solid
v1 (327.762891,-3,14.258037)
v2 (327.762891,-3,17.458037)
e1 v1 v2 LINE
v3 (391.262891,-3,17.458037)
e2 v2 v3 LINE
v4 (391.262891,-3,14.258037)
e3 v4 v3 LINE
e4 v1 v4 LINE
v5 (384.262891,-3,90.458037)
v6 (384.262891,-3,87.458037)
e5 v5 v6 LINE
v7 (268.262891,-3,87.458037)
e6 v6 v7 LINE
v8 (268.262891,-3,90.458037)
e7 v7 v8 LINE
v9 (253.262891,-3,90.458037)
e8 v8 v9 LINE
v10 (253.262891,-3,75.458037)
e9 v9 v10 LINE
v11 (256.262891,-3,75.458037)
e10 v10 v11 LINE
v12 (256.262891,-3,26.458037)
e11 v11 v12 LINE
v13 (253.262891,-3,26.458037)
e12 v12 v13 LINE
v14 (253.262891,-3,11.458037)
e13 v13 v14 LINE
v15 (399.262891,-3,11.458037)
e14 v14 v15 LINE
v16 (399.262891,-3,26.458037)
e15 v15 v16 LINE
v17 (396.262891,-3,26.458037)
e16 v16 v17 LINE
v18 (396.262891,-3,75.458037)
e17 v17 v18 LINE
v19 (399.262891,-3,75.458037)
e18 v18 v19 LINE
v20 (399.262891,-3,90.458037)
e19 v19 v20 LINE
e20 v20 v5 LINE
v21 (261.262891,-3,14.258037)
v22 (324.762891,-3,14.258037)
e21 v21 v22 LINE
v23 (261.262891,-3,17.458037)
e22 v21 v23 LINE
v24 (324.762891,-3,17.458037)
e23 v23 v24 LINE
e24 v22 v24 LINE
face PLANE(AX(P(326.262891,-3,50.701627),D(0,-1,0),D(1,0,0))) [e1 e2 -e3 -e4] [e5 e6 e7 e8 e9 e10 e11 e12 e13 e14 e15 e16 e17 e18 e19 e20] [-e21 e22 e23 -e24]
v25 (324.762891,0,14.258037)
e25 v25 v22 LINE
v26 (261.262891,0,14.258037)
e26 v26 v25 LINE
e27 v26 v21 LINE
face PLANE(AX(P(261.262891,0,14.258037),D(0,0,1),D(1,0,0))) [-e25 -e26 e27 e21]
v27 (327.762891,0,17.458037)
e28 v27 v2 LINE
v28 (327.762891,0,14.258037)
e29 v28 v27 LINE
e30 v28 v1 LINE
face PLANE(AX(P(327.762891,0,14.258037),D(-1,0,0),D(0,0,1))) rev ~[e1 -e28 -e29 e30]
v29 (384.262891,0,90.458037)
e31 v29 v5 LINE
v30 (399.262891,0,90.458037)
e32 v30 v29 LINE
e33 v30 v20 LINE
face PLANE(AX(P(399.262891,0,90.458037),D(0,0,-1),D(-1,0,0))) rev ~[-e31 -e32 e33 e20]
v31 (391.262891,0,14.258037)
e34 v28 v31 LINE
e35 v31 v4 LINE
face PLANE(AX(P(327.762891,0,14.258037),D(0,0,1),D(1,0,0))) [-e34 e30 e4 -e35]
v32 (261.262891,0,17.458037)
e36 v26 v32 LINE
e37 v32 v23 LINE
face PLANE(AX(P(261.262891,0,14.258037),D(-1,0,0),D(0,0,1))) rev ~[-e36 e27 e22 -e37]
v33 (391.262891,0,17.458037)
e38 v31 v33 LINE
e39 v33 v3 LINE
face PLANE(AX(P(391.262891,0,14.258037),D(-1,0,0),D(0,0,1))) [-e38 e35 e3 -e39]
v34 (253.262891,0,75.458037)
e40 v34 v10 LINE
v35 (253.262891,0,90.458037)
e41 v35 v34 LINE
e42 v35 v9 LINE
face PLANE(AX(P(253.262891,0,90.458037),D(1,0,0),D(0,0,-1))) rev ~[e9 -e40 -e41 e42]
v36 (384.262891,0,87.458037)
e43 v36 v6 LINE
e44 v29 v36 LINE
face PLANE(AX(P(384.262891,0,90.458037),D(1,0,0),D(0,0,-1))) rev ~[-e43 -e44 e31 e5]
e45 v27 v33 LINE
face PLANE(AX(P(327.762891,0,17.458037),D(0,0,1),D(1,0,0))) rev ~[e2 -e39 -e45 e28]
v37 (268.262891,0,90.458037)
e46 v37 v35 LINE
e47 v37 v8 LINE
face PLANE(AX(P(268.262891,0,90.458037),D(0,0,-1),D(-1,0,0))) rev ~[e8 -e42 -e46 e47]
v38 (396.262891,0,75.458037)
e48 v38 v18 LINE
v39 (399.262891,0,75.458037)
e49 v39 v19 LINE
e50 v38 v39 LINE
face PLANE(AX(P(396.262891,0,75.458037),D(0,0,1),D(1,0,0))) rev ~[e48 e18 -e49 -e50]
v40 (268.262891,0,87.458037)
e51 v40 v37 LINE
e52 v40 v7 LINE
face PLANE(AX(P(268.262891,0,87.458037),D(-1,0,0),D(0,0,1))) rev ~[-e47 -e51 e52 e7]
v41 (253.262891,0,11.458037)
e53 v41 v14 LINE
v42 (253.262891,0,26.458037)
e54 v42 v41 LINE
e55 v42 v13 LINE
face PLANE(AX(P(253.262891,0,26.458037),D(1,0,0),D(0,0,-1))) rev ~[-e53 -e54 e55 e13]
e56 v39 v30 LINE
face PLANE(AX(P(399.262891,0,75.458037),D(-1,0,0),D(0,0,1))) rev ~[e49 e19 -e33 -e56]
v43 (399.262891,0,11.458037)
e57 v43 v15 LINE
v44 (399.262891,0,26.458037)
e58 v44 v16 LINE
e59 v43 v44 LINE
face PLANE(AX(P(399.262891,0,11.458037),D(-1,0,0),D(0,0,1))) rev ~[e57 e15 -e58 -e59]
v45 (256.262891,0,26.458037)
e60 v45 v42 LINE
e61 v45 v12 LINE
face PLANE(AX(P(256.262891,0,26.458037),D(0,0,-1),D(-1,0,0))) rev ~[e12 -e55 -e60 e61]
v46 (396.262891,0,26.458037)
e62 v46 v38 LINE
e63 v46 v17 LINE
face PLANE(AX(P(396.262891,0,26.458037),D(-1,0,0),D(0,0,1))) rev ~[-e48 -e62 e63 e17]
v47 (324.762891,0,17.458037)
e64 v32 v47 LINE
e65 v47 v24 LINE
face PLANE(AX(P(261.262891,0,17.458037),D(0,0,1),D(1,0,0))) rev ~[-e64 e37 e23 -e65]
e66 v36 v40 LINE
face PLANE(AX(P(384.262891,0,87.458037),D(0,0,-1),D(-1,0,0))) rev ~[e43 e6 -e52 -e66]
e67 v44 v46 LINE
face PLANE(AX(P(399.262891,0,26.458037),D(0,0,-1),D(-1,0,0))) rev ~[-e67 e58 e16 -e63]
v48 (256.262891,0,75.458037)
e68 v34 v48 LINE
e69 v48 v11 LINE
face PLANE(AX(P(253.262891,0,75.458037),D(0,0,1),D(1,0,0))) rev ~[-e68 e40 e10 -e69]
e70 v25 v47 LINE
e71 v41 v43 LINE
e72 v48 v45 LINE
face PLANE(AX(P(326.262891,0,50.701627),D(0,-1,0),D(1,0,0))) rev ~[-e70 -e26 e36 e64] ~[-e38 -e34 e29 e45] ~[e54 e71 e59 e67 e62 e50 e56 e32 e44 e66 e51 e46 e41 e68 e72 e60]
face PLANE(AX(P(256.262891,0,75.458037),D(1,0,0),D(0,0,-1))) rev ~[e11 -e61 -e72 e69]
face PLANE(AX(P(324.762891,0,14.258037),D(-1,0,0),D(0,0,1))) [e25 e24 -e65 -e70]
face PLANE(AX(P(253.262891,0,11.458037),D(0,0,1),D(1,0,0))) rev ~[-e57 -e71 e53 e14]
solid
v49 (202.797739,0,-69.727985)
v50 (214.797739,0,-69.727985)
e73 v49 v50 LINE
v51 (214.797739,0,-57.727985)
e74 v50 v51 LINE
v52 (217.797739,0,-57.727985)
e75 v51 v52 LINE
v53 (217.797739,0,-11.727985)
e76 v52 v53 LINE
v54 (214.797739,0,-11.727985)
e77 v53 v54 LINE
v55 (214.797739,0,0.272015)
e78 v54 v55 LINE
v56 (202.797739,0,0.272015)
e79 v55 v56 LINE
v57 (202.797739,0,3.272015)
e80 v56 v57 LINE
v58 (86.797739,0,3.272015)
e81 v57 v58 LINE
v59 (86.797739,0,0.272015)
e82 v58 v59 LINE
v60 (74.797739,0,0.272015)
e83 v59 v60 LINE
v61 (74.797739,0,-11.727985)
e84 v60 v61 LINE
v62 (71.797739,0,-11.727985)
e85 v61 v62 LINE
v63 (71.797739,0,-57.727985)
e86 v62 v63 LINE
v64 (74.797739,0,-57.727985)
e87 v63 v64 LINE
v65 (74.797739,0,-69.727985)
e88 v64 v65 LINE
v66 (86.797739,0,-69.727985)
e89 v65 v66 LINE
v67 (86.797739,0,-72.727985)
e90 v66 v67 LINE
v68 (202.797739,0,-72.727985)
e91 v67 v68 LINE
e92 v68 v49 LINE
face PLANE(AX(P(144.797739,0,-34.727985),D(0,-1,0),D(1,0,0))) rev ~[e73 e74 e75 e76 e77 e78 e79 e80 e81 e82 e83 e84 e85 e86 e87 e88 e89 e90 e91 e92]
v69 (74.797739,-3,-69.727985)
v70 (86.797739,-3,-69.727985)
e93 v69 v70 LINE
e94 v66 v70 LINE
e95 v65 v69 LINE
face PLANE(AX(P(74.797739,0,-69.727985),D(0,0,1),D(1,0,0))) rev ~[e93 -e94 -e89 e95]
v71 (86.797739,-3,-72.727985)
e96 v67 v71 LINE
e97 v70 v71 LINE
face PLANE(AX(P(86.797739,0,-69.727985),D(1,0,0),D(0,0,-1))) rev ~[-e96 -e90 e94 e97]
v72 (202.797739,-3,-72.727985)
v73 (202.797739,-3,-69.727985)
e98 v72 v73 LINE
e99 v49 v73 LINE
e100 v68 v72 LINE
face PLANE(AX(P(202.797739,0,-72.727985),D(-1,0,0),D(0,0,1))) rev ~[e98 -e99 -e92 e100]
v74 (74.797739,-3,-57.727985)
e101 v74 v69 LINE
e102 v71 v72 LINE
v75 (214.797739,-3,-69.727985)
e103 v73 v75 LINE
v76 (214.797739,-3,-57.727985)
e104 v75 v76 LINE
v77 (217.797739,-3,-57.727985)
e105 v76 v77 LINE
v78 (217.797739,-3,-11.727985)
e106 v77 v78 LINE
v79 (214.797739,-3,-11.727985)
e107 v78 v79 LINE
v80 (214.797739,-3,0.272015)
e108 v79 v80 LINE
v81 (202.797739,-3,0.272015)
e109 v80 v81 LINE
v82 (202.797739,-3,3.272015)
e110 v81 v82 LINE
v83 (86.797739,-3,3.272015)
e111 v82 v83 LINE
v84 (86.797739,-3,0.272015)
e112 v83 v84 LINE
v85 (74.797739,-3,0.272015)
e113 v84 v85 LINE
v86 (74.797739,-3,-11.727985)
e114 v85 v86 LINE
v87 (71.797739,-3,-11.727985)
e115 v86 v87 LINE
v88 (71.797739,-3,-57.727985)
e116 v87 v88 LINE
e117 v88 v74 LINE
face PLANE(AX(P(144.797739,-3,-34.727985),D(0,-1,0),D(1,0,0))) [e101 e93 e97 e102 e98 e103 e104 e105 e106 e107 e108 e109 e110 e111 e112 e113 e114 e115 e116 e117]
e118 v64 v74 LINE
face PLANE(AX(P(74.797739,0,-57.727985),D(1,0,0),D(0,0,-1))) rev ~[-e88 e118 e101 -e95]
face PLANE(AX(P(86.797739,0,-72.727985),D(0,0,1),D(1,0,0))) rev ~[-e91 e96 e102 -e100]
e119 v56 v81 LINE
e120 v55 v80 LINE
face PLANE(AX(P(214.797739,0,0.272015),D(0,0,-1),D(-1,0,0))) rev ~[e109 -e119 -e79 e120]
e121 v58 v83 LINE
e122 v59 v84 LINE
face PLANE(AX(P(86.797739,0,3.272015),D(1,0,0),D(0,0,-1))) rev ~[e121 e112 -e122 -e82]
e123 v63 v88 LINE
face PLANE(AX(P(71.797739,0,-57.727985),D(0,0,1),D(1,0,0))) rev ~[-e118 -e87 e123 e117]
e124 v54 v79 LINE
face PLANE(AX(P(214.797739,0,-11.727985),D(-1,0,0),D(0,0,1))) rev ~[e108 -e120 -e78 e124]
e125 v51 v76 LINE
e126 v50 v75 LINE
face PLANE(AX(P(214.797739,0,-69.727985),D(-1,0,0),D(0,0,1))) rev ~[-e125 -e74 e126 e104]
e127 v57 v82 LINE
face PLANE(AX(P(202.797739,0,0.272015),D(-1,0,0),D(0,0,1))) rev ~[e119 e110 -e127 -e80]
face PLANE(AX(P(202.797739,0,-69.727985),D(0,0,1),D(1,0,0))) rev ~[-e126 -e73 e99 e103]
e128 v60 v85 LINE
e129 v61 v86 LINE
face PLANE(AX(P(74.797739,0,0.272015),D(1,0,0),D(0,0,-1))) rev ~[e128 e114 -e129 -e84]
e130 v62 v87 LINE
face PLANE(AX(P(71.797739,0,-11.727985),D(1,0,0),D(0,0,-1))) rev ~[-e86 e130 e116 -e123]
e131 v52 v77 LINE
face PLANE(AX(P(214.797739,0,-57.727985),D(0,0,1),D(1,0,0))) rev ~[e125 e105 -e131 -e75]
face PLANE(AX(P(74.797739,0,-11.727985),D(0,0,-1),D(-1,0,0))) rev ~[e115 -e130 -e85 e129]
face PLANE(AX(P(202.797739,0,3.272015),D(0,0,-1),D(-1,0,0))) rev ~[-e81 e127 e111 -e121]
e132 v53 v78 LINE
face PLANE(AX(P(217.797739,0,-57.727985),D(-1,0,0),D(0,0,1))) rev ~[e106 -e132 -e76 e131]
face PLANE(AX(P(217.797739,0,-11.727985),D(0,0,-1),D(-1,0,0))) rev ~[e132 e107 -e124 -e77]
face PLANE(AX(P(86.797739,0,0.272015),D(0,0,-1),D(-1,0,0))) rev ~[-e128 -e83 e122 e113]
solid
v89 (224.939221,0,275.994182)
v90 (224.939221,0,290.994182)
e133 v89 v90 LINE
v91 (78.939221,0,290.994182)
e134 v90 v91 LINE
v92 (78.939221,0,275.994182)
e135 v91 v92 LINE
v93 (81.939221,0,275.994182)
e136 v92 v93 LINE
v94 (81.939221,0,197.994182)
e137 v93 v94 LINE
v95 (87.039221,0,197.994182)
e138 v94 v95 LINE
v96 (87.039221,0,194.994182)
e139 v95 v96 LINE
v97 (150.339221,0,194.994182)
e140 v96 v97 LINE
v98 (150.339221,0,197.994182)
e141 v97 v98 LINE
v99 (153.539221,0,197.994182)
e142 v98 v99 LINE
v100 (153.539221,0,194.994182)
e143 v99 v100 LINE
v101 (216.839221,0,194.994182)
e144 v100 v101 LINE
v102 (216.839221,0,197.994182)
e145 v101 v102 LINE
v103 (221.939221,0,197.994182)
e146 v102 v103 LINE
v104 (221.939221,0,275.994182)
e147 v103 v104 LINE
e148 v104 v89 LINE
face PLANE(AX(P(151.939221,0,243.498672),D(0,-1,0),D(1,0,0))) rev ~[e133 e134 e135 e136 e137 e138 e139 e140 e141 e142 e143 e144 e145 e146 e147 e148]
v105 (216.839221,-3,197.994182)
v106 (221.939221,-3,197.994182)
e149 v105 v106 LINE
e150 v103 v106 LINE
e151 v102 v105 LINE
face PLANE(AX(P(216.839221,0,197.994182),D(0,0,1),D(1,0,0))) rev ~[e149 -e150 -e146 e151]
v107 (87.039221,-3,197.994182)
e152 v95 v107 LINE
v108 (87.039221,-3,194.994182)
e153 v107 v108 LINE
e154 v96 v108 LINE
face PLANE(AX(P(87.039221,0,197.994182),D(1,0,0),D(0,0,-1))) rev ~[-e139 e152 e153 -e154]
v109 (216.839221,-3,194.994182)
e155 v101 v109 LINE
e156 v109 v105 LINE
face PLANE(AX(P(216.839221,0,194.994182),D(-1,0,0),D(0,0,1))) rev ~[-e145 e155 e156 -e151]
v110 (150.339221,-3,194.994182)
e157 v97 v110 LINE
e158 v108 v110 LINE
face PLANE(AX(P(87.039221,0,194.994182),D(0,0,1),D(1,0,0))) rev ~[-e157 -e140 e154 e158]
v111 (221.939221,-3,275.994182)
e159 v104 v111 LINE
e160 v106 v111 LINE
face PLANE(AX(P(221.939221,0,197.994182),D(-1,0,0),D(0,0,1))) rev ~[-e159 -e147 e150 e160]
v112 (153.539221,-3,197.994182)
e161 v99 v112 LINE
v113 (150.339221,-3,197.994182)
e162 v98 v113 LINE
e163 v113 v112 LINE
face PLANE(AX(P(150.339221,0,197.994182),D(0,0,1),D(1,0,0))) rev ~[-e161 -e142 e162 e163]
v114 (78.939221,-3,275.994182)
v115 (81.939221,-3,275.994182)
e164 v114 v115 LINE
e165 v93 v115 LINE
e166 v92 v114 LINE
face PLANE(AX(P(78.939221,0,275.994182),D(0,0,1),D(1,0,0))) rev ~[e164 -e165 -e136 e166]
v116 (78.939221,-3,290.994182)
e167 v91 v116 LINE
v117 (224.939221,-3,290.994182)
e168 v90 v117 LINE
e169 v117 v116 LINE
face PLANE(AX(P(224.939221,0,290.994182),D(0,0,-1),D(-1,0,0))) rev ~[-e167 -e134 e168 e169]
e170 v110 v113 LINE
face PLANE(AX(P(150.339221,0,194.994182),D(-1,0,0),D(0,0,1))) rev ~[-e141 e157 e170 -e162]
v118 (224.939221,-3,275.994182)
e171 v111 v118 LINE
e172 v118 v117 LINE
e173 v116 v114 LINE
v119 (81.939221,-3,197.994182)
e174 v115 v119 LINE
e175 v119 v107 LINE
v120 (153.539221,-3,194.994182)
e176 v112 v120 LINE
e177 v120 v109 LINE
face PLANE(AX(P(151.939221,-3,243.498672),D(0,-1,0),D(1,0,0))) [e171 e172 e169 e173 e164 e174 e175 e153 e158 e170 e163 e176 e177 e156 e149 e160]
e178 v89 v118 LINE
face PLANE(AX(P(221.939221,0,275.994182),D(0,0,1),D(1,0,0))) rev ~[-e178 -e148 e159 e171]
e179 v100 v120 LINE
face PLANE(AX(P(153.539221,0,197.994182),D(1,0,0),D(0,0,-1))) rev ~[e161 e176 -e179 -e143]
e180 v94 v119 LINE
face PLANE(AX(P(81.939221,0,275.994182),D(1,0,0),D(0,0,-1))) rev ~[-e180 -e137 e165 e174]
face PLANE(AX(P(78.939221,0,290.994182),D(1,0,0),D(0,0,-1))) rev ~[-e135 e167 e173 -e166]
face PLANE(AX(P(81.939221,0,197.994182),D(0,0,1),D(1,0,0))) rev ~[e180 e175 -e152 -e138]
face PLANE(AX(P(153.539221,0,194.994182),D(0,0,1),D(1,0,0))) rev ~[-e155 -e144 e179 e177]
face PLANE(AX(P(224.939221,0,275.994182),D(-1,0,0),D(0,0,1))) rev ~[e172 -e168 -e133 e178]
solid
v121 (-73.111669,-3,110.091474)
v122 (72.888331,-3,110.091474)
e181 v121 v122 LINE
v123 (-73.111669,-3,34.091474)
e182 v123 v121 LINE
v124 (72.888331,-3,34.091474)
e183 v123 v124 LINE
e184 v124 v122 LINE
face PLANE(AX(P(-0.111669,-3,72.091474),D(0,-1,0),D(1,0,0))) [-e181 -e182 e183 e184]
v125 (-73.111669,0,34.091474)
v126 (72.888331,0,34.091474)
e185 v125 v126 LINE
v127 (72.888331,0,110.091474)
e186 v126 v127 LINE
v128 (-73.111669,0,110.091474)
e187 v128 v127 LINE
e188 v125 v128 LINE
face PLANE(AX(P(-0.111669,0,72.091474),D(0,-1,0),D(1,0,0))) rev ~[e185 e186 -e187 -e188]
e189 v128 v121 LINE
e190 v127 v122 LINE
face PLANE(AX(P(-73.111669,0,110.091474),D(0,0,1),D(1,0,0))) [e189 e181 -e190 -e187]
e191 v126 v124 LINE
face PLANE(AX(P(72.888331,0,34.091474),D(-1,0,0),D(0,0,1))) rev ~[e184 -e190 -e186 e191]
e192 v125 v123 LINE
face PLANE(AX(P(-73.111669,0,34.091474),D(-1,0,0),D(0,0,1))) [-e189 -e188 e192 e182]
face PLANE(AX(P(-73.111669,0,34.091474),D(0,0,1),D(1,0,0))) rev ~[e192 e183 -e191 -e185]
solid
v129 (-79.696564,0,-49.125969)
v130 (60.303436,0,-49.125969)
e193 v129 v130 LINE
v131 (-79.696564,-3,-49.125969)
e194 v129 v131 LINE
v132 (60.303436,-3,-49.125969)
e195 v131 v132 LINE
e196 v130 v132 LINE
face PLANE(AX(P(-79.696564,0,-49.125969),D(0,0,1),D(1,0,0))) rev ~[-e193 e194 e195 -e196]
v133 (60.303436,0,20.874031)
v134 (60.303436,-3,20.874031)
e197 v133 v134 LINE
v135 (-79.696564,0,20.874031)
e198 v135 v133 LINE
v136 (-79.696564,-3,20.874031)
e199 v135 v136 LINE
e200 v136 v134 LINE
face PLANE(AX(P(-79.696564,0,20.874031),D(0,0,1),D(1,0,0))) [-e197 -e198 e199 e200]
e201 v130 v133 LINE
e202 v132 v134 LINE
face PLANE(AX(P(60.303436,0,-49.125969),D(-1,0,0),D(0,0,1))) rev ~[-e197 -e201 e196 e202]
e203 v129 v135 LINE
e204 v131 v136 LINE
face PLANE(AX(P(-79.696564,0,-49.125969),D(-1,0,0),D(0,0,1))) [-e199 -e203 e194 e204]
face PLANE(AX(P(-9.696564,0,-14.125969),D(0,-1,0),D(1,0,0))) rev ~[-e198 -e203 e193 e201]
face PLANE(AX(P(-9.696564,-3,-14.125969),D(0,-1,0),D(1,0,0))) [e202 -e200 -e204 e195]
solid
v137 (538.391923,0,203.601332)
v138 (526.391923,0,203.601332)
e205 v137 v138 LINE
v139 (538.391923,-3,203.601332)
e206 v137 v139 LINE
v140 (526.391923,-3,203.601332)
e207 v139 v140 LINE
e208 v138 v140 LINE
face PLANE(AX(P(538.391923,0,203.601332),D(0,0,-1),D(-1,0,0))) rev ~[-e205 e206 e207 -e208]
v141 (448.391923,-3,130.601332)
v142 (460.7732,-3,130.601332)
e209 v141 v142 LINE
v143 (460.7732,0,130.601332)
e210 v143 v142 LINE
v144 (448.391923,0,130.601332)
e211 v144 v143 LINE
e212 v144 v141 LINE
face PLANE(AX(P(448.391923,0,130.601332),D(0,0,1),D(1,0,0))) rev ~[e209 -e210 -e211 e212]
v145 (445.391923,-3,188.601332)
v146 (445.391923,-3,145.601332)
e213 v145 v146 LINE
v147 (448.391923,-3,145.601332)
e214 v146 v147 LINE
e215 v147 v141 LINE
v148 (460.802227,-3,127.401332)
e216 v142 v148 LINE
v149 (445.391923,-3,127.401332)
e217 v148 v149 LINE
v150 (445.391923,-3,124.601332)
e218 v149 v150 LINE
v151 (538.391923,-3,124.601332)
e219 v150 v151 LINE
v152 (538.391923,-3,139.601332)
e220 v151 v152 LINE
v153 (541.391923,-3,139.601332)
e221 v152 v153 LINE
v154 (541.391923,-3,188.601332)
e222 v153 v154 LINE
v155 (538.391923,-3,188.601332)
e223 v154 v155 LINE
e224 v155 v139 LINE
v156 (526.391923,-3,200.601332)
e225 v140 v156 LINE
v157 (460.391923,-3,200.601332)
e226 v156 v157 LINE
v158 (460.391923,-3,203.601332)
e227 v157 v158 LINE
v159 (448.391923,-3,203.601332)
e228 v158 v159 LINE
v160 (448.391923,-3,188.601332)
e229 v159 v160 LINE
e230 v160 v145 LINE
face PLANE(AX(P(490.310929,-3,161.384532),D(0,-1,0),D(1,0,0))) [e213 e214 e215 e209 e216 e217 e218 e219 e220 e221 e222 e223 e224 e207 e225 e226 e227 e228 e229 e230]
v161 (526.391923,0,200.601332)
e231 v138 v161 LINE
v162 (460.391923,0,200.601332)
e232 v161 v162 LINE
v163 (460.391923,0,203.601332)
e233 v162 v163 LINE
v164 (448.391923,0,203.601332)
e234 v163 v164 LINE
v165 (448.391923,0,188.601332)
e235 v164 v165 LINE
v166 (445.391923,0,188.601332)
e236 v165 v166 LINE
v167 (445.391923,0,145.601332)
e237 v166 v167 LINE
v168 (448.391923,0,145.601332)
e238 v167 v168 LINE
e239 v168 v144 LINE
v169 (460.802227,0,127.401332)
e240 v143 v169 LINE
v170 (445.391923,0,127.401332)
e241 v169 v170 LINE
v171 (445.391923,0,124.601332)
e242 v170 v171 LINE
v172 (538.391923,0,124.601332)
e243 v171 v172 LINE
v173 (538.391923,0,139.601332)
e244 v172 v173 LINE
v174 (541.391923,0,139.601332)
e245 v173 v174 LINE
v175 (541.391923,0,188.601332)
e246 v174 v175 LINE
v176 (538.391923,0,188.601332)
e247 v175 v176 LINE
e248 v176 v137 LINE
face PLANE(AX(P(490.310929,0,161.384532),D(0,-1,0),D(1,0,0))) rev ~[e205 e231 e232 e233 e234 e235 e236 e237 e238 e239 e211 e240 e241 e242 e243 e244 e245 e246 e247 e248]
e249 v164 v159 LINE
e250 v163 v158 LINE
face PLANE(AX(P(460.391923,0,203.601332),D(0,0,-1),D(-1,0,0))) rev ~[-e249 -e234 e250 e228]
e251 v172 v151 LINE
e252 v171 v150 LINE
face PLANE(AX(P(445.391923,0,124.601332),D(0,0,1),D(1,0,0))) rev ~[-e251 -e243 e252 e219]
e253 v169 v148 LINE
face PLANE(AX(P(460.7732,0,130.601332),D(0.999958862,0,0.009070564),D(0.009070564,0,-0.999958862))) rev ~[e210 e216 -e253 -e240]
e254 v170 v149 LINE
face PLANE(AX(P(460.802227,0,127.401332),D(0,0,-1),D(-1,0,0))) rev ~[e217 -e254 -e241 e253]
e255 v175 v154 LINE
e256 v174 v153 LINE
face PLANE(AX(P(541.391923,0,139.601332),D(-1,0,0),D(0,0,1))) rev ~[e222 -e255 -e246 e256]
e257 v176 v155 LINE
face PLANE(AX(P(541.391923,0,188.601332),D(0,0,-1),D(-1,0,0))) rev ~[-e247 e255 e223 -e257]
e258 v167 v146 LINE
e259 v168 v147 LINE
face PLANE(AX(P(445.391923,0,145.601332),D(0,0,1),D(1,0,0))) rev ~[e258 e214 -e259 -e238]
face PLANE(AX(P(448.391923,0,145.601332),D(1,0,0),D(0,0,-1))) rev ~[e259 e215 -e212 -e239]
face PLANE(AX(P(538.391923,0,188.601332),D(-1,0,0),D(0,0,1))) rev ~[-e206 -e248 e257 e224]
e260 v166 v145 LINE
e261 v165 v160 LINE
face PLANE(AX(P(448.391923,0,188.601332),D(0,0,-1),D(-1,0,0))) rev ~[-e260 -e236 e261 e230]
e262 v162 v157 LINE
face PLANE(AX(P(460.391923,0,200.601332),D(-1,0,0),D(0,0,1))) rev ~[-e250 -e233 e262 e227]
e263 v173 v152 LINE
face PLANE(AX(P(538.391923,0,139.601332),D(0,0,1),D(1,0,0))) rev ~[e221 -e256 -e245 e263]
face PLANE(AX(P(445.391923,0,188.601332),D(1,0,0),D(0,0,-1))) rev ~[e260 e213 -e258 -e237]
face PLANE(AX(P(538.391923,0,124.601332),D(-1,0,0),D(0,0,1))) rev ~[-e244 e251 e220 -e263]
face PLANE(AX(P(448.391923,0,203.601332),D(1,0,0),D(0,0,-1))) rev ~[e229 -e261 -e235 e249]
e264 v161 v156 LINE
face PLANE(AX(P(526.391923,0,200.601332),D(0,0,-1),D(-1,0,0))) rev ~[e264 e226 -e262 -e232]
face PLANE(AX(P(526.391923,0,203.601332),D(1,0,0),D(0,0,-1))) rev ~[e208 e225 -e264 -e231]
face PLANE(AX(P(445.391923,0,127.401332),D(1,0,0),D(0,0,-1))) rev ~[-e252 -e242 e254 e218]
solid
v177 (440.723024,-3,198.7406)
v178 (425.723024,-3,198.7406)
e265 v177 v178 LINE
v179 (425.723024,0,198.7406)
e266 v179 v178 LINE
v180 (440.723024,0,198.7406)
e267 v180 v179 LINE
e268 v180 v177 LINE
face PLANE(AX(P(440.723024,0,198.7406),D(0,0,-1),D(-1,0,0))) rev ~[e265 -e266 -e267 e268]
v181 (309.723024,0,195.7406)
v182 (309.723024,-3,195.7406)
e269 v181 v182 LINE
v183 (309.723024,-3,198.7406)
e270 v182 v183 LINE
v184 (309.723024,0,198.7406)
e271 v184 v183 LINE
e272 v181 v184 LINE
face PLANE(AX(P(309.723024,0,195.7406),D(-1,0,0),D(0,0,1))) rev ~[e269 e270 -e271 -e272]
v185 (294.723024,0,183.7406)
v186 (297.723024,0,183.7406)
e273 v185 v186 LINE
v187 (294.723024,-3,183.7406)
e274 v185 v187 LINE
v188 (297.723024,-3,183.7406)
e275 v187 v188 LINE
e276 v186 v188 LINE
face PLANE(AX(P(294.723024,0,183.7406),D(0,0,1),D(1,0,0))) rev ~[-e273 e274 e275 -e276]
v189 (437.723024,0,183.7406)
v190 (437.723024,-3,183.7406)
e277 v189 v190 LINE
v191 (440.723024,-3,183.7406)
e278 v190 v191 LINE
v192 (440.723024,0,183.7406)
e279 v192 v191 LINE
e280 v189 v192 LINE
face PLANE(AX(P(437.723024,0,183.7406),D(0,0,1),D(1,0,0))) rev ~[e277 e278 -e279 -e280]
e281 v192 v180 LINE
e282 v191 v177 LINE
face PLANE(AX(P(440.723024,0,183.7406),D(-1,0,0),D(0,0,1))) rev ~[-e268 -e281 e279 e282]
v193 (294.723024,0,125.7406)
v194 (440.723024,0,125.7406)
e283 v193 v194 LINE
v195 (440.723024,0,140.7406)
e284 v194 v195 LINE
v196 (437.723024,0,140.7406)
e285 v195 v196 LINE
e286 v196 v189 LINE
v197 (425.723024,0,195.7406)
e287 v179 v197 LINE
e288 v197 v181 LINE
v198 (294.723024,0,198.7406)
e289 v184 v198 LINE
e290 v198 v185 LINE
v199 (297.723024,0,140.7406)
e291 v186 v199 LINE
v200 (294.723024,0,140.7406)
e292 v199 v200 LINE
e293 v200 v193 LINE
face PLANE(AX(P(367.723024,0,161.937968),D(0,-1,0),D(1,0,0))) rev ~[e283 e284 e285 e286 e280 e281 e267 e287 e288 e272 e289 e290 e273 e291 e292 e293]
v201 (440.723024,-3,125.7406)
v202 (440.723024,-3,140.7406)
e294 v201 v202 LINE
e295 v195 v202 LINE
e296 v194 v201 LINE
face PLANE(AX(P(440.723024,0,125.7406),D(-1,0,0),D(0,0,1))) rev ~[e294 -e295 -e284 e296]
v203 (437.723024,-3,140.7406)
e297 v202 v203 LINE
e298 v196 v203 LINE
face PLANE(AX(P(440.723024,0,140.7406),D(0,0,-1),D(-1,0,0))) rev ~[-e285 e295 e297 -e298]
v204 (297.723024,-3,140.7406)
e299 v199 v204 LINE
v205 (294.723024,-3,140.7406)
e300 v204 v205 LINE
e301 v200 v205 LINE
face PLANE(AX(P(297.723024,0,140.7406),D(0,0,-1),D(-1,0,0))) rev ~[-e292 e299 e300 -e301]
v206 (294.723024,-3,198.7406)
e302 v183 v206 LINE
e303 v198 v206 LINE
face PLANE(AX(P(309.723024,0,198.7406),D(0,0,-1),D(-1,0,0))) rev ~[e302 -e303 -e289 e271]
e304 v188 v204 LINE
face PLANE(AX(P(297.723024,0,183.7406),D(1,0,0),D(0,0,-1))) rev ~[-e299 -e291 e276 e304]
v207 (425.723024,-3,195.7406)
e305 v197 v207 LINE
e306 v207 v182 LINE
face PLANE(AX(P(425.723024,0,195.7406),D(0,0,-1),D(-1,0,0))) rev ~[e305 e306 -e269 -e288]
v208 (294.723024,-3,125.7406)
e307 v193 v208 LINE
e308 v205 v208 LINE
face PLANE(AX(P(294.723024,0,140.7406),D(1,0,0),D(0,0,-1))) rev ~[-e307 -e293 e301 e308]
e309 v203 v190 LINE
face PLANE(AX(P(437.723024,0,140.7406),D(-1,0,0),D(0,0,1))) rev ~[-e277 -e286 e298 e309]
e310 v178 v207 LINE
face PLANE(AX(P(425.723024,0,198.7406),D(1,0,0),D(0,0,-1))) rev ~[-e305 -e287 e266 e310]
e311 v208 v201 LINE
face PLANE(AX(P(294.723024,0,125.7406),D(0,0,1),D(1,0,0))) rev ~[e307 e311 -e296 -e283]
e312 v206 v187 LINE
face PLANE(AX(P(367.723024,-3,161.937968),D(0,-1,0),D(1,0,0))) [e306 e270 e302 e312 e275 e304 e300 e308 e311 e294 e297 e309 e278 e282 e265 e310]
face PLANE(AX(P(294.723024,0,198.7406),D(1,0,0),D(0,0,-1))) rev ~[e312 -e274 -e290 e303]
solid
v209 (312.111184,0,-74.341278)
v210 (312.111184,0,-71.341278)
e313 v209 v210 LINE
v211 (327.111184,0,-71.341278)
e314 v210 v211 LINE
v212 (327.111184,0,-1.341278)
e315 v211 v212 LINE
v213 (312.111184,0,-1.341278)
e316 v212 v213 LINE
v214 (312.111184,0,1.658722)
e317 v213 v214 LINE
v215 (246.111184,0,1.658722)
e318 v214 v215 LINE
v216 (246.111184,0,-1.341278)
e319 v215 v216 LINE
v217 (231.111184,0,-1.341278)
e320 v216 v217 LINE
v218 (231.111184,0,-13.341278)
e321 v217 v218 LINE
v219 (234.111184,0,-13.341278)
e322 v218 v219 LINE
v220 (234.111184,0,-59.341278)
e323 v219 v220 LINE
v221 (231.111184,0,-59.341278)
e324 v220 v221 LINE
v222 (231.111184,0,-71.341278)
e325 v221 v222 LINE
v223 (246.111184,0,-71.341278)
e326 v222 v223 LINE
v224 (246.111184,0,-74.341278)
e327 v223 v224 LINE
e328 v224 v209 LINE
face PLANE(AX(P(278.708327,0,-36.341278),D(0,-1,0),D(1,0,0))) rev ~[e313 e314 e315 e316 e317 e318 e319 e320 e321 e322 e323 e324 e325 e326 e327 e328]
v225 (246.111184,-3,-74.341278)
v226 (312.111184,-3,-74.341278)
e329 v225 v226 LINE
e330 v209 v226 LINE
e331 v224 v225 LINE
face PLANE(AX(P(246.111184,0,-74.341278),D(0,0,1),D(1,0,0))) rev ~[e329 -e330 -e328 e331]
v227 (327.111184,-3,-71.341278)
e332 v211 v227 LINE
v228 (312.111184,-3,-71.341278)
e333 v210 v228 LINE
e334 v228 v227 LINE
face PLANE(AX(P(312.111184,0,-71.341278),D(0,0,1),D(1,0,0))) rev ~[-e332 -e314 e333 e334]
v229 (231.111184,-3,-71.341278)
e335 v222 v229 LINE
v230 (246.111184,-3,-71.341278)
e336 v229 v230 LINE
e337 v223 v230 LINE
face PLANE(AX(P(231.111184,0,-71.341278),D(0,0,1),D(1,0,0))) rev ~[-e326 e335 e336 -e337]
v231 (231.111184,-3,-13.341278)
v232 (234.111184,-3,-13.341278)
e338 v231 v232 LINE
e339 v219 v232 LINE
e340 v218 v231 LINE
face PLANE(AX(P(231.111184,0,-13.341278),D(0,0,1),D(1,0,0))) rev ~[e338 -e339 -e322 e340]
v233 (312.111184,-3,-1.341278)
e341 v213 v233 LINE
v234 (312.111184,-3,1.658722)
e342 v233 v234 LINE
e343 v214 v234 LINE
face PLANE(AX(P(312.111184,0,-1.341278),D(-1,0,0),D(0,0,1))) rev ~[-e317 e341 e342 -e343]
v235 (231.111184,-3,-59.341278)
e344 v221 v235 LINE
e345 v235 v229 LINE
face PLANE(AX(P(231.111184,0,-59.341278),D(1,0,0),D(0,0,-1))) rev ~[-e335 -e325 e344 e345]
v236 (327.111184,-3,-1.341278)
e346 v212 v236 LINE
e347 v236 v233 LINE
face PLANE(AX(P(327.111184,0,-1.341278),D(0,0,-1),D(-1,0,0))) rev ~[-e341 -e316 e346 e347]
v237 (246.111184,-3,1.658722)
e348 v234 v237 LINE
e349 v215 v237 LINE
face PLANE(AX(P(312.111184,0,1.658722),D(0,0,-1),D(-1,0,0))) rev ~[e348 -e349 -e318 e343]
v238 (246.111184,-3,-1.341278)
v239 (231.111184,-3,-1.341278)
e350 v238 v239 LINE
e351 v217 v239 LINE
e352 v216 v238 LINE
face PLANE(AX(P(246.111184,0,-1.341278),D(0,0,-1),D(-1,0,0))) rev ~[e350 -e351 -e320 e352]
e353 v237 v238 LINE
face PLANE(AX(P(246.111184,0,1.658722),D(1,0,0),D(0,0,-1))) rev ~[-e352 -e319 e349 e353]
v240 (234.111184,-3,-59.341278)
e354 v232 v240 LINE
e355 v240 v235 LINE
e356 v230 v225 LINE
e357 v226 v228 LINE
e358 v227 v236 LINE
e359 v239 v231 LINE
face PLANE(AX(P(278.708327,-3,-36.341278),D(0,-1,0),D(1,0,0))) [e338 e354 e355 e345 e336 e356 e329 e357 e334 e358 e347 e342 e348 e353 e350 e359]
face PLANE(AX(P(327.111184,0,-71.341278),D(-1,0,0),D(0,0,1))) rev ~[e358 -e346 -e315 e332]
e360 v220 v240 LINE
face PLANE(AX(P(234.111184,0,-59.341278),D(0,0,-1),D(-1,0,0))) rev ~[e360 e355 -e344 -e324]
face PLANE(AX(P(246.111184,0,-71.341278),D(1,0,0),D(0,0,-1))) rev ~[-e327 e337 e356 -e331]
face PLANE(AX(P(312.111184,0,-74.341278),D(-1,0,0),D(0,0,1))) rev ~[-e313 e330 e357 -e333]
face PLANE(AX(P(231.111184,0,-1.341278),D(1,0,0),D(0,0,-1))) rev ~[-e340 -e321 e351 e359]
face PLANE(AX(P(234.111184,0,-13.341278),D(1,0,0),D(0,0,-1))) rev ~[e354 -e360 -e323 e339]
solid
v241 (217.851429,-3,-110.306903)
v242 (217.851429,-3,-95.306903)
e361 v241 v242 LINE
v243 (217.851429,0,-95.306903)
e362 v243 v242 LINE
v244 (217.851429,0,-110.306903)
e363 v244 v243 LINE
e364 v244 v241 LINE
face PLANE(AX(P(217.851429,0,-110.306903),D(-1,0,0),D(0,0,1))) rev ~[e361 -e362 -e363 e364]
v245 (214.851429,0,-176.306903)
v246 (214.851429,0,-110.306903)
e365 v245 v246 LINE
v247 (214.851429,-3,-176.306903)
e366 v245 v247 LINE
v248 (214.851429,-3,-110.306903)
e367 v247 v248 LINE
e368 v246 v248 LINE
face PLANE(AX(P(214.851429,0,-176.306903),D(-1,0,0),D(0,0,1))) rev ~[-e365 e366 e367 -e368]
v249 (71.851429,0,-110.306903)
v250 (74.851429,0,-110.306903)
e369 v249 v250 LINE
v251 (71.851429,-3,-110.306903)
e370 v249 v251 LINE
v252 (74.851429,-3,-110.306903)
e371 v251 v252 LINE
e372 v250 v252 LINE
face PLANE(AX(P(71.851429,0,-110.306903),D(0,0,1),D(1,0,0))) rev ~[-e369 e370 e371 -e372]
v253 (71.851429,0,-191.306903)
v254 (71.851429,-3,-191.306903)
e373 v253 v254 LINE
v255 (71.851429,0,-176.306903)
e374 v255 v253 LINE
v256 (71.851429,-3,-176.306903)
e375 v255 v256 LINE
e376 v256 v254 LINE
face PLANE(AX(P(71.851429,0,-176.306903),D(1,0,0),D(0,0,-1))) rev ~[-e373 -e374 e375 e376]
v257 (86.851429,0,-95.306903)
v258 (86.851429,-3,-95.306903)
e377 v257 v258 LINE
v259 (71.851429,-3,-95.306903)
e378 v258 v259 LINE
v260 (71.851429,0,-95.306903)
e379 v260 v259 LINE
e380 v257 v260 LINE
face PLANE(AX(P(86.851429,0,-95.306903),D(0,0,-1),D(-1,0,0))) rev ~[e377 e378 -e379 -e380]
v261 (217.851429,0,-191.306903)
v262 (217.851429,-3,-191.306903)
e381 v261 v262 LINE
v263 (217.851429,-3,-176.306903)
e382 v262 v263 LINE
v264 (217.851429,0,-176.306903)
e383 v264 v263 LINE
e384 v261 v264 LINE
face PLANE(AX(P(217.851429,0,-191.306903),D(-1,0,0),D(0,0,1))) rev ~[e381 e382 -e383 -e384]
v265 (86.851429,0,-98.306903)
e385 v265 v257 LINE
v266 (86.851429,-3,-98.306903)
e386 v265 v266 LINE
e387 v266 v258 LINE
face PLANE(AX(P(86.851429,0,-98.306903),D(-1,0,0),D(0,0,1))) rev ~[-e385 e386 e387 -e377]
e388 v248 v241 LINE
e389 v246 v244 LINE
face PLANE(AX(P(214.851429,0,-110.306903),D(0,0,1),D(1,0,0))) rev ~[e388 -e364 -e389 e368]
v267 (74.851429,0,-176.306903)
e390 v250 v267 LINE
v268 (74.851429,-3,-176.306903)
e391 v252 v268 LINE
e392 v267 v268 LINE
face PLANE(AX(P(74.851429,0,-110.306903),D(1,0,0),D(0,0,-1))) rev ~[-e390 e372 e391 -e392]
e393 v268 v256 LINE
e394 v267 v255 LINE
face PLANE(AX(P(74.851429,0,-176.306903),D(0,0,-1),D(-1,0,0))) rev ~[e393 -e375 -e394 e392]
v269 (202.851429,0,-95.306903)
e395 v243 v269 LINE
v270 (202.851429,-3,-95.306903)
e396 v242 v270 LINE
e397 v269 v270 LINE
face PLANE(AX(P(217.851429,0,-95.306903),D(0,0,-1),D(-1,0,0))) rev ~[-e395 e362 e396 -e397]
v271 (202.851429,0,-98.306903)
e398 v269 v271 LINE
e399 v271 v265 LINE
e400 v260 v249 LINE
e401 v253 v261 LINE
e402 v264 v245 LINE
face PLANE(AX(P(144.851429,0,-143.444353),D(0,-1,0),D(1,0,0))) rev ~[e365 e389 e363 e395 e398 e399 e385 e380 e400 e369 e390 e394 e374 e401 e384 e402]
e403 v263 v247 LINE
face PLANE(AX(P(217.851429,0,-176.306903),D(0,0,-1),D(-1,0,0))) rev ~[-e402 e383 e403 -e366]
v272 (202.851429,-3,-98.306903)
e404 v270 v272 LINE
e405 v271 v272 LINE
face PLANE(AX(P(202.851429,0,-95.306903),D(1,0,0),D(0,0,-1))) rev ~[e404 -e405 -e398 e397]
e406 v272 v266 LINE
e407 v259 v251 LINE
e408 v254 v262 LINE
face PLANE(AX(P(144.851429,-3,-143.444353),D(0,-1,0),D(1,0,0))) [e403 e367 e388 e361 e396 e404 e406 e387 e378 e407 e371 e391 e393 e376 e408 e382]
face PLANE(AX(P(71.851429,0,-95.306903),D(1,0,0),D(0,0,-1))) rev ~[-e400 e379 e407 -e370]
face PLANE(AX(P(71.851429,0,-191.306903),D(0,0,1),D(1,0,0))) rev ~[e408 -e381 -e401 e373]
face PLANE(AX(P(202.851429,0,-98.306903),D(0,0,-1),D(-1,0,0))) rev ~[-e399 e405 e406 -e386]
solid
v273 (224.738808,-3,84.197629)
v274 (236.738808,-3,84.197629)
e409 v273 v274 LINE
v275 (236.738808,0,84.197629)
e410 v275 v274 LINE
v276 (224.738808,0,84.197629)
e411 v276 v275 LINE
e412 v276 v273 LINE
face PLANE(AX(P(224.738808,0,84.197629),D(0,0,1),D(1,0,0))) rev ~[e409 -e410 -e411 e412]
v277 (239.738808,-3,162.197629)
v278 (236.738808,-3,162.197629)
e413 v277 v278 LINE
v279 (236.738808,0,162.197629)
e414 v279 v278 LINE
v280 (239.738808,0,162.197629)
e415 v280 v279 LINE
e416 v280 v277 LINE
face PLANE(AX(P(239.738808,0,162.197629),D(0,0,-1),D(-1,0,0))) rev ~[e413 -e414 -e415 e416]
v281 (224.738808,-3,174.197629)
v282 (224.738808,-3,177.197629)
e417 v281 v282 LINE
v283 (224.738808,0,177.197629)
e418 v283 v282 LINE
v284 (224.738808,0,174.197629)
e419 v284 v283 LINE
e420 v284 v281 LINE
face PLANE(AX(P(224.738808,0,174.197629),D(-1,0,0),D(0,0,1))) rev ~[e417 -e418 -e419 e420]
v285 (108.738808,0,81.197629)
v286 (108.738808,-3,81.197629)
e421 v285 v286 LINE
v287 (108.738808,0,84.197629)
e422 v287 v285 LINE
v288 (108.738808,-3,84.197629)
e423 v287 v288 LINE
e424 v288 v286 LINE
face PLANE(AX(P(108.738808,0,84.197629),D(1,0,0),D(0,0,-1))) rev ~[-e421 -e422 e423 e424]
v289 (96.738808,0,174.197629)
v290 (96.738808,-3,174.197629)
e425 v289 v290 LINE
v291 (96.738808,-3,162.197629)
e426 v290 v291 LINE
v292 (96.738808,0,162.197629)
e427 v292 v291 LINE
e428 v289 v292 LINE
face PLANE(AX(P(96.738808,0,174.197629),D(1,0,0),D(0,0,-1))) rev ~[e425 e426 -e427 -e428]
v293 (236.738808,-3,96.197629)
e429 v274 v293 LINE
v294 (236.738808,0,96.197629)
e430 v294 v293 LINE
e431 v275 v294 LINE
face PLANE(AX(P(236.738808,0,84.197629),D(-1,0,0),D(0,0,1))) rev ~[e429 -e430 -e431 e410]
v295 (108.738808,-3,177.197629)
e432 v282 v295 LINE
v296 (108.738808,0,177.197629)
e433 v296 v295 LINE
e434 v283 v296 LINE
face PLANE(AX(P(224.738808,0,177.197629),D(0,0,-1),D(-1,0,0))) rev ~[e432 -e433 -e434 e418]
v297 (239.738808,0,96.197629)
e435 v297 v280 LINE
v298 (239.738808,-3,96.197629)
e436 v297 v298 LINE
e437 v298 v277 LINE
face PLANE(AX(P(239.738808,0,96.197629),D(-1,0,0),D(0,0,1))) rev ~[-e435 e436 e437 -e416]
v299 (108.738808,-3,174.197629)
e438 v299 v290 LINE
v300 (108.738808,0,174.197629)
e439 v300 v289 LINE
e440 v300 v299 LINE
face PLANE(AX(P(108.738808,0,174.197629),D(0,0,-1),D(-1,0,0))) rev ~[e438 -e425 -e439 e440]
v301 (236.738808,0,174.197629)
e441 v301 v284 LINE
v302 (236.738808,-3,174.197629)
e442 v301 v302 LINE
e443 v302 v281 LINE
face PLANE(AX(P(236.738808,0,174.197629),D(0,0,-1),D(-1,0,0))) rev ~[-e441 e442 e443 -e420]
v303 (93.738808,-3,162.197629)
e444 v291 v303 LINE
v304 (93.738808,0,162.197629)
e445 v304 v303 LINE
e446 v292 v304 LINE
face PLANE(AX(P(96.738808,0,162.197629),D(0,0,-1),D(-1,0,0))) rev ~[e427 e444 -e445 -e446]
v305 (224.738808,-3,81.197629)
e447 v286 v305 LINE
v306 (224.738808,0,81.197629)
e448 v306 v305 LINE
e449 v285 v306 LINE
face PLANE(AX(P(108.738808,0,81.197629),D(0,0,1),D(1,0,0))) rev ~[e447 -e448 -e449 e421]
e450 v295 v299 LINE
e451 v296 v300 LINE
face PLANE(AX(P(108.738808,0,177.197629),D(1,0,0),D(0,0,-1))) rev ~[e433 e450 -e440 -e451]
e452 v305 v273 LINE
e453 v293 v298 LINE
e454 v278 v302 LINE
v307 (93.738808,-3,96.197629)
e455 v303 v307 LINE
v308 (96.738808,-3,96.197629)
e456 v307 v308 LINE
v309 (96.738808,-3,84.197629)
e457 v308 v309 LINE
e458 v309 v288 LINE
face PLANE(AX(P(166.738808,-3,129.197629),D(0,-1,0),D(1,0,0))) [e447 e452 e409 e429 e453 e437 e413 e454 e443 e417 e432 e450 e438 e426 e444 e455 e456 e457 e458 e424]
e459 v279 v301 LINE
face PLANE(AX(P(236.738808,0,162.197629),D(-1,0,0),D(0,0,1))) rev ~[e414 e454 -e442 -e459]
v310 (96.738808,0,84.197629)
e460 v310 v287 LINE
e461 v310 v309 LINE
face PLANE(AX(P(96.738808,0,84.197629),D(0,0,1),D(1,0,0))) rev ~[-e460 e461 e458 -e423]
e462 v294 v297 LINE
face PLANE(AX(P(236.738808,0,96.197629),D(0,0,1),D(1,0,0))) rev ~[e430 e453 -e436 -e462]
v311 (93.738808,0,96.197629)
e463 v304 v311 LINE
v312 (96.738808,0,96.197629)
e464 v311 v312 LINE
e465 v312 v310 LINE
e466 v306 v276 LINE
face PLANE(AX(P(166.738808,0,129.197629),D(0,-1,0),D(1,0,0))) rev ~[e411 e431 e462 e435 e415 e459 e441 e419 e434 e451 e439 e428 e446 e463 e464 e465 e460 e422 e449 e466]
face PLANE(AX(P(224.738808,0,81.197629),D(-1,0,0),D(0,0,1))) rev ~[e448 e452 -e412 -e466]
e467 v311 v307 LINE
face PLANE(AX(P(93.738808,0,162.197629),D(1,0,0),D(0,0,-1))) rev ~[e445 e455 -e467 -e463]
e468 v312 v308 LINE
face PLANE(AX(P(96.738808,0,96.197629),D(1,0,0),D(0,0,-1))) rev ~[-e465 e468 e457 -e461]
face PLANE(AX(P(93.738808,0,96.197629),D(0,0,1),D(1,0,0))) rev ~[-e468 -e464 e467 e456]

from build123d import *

# Parameters (mm, degrees)
F0_W      = 140
F0_H      = 70
F1_DEPTH  = 3
F2_W      = 146
F2_H      = 76
F3_DEPTH  = 3
F5_DEPTH  = 3
F7_DEPTH  = 3
F9_DEPTH  = 3
F11_DEPTH = 3
F12_W     = 63.5
F12_H     = 3.2
F13_DEPTH = 3
F15_DEPTH = 3
F17_DEPTH = 3
F19_DEPTH = 3


with BuildPart() as f1:
    # F0 (on Front) → F1 (new body)
    with BuildSketch(Plane.XZ):
        with Locations((-9.696564, -14.125969)):
            Rectangle(F0_W, F0_H)
    extrude(amount=F1_DEPTH)


with BuildPart() as f3:
    # F2 (on Front) → F3 (new body)
    with BuildSketch(Plane.XZ):
        with Locations((-0.111669, 72.091474)):
            Rectangle(F2_W, F2_H)
    extrude(amount=F3_DEPTH)


with BuildPart() as f5:
    # F4 (on Front) → F5 (new body)
    with BuildSketch(Plane.XZ):
        Polygon((202.797739, 3.272015), (86.797739, 3.272015), (86.797739, 0.272015), (74.797739, 0.272015), (74.797739, -11.727985), (71.797739, -11.727985), (71.797739, -57.727985), (74.797739, -57.727985), (74.797739, -69.727985), (86.797739, -69.727985), (86.797739, -72.727985), (202.797739, -72.727985), (202.797739, -69.727985), (214.797739, -69.727985), (214.797739, -57.727985), (217.797739, -57.727985), (217.797739, -11.727985), (214.797739, -11.727985), (214.797739, 0.272015), (202.797739, 0.272015), align=None)
    extrude(amount=F5_DEPTH)


with BuildPart() as f7:
    # F6 (on Front) → F7 (new body)
    with BuildSketch(Plane.XZ):
        Polygon((246.111184, -1.341278), (231.111184, -1.341278), (231.111184, -13.341278), (234.111184, -13.341278), (234.111184, -59.341278), (231.111184, -59.341278), (231.111184, -71.341278), (246.111184, -71.341278), (246.111184, -74.341278), (312.111184, -74.341278), (312.111184, -71.341278), (327.111184, -71.341278), (327.111184, -1.341278), (312.111184, -1.341278), (312.111184, 1.658722), (246.111184, 1.658722), align=None)
    extrude(amount=F7_DEPTH)


with BuildPart() as f9:
    # F8 (on Front) → F9 (new body)
    with BuildSketch(Plane.XZ):
        Polygon((86.851429, -95.306903), (71.851429, -95.306903), (71.851429, -110.306903), (74.851429, -110.306903), (74.851429, -176.306903), (71.851429, -176.306903), (71.851429, -191.306903), (217.851429, -191.306903), (217.851429, -176.306903), (214.851429, -176.306903), (214.851429, -110.306903), (217.851429, -110.306903), (217.851429, -95.306903), (202.851429, -95.306903), (202.851429, -98.306903), (86.851429, -98.306903), align=None)
    extrude(amount=F9_DEPTH)


with BuildPart() as f11:
    # F10 (on Front) → F11 (new body)
    with BuildSketch(Plane.XZ):
        Polygon((224.738808, 177.197629), (108.738808, 177.197629), (108.738808, 174.197629), (96.738808, 174.197629), (96.738808, 162.197629), (93.738808, 162.197629), (93.738808, 96.197629), (96.738808, 96.197629), (96.738808, 84.197629), (108.738808, 84.197629), (108.738808, 81.197629), (224.738808, 81.197629), (224.738808, 84.197629), (236.738808, 84.197629), (236.738808, 96.197629), (239.738808, 96.197629), (239.738808, 162.197629), (236.738808, 162.197629), (236.738808, 174.197629), (224.738808, 174.197629), align=None)
    extrude(amount=F11_DEPTH)


with BuildPart() as f13:
    # F12 (on Front) → F13 (new body)
    with BuildSketch(Plane.XZ):
        Polygon((268.262891, 90.458037), (253.262891, 90.458037), (253.262891, 75.458037), (256.262891, 75.458037), (256.262891, 26.458037), (253.262891, 26.458037), (253.262891, 11.458037), (399.262891, 11.458037), (399.262891, 26.458037), (396.262891, 26.458037), (396.262891, 75.458037), (399.262891, 75.458037), (399.262891, 90.458037), (384.262891, 90.458037), (384.262891, 87.458037), (268.262891, 87.458037), align=None)
        with Locations((293.012891, 15.858037)):
            Rectangle(F12_W, F12_H, mode=Mode.SUBTRACT)
        with Locations((359.512891, 15.858037)):
            Rectangle(F12_W, F12_H, mode=Mode.SUBTRACT)
    extrude(amount=F13_DEPTH)


with BuildPart() as f15:
    # F14 (on Front) → F15 (new body)
    with BuildSketch(Plane.XZ):
        Polygon((294.723024, 140.7406), (294.723024, 125.7406), (440.723024, 125.7406), (440.723024, 140.7406), (437.723024, 140.7406), (437.723024, 183.7406), (440.723024, 183.7406), (440.723024, 198.7406), (425.723024, 198.7406), (425.723024, 195.7406), (309.723024, 195.7406), (309.723024, 198.7406), (294.723024, 198.7406), (294.723024, 183.7406), (297.723024, 183.7406), (297.723024, 140.7406), align=None)
    extrude(amount=F15_DEPTH)


with BuildPart() as f17:
    # F16 (on Front) → F17 (new body)
    with BuildSketch(Plane.XZ):
        Polygon((460.391923, 203.601332), (448.391923, 203.601332), (448.391923, 188.601332), (445.391923, 188.601332), (445.391923, 145.601332), (448.391923, 145.601332), (448.391923, 130.601332), (460.7732, 130.601332), (460.802227, 127.401332), (445.391923, 127.401332), (445.391923, 124.601332), (538.391923, 124.601332), (538.391923, 139.601332), (541.391923, 139.601332), (541.391923, 188.601332), (538.391923, 188.601332), (538.391923, 203.601332), (526.391923, 203.601332), (526.391923, 200.601332), (460.391923, 200.601332), align=None)
    extrude(amount=F17_DEPTH)


with BuildPart() as f19:
    # F18 (on Front) → F19 (new body)
    with BuildSketch(Plane.XZ):
        Polygon((224.939221, 290.994182), (78.939221, 290.994182), (78.939221, 275.994182), (81.939221, 275.994182), (81.939221, 197.994182), (87.039221, 197.994182), (87.039221, 194.994182), (150.339221, 194.994182), (150.339221, 197.994182), (153.539221, 197.994182), (153.539221, 194.994182), (216.839221, 194.994182), (216.839221, 197.994182), (221.939221, 197.994182), (221.939221, 275.994182), (224.939221, 275.994182), align=None)
    extrude(amount=F19_DEPTH)


solid = Compound([f1.part, f3.part, f5.part, f7.part, f9.part, f11.part, f13.part, f15.part, f17.part, f19.part])
